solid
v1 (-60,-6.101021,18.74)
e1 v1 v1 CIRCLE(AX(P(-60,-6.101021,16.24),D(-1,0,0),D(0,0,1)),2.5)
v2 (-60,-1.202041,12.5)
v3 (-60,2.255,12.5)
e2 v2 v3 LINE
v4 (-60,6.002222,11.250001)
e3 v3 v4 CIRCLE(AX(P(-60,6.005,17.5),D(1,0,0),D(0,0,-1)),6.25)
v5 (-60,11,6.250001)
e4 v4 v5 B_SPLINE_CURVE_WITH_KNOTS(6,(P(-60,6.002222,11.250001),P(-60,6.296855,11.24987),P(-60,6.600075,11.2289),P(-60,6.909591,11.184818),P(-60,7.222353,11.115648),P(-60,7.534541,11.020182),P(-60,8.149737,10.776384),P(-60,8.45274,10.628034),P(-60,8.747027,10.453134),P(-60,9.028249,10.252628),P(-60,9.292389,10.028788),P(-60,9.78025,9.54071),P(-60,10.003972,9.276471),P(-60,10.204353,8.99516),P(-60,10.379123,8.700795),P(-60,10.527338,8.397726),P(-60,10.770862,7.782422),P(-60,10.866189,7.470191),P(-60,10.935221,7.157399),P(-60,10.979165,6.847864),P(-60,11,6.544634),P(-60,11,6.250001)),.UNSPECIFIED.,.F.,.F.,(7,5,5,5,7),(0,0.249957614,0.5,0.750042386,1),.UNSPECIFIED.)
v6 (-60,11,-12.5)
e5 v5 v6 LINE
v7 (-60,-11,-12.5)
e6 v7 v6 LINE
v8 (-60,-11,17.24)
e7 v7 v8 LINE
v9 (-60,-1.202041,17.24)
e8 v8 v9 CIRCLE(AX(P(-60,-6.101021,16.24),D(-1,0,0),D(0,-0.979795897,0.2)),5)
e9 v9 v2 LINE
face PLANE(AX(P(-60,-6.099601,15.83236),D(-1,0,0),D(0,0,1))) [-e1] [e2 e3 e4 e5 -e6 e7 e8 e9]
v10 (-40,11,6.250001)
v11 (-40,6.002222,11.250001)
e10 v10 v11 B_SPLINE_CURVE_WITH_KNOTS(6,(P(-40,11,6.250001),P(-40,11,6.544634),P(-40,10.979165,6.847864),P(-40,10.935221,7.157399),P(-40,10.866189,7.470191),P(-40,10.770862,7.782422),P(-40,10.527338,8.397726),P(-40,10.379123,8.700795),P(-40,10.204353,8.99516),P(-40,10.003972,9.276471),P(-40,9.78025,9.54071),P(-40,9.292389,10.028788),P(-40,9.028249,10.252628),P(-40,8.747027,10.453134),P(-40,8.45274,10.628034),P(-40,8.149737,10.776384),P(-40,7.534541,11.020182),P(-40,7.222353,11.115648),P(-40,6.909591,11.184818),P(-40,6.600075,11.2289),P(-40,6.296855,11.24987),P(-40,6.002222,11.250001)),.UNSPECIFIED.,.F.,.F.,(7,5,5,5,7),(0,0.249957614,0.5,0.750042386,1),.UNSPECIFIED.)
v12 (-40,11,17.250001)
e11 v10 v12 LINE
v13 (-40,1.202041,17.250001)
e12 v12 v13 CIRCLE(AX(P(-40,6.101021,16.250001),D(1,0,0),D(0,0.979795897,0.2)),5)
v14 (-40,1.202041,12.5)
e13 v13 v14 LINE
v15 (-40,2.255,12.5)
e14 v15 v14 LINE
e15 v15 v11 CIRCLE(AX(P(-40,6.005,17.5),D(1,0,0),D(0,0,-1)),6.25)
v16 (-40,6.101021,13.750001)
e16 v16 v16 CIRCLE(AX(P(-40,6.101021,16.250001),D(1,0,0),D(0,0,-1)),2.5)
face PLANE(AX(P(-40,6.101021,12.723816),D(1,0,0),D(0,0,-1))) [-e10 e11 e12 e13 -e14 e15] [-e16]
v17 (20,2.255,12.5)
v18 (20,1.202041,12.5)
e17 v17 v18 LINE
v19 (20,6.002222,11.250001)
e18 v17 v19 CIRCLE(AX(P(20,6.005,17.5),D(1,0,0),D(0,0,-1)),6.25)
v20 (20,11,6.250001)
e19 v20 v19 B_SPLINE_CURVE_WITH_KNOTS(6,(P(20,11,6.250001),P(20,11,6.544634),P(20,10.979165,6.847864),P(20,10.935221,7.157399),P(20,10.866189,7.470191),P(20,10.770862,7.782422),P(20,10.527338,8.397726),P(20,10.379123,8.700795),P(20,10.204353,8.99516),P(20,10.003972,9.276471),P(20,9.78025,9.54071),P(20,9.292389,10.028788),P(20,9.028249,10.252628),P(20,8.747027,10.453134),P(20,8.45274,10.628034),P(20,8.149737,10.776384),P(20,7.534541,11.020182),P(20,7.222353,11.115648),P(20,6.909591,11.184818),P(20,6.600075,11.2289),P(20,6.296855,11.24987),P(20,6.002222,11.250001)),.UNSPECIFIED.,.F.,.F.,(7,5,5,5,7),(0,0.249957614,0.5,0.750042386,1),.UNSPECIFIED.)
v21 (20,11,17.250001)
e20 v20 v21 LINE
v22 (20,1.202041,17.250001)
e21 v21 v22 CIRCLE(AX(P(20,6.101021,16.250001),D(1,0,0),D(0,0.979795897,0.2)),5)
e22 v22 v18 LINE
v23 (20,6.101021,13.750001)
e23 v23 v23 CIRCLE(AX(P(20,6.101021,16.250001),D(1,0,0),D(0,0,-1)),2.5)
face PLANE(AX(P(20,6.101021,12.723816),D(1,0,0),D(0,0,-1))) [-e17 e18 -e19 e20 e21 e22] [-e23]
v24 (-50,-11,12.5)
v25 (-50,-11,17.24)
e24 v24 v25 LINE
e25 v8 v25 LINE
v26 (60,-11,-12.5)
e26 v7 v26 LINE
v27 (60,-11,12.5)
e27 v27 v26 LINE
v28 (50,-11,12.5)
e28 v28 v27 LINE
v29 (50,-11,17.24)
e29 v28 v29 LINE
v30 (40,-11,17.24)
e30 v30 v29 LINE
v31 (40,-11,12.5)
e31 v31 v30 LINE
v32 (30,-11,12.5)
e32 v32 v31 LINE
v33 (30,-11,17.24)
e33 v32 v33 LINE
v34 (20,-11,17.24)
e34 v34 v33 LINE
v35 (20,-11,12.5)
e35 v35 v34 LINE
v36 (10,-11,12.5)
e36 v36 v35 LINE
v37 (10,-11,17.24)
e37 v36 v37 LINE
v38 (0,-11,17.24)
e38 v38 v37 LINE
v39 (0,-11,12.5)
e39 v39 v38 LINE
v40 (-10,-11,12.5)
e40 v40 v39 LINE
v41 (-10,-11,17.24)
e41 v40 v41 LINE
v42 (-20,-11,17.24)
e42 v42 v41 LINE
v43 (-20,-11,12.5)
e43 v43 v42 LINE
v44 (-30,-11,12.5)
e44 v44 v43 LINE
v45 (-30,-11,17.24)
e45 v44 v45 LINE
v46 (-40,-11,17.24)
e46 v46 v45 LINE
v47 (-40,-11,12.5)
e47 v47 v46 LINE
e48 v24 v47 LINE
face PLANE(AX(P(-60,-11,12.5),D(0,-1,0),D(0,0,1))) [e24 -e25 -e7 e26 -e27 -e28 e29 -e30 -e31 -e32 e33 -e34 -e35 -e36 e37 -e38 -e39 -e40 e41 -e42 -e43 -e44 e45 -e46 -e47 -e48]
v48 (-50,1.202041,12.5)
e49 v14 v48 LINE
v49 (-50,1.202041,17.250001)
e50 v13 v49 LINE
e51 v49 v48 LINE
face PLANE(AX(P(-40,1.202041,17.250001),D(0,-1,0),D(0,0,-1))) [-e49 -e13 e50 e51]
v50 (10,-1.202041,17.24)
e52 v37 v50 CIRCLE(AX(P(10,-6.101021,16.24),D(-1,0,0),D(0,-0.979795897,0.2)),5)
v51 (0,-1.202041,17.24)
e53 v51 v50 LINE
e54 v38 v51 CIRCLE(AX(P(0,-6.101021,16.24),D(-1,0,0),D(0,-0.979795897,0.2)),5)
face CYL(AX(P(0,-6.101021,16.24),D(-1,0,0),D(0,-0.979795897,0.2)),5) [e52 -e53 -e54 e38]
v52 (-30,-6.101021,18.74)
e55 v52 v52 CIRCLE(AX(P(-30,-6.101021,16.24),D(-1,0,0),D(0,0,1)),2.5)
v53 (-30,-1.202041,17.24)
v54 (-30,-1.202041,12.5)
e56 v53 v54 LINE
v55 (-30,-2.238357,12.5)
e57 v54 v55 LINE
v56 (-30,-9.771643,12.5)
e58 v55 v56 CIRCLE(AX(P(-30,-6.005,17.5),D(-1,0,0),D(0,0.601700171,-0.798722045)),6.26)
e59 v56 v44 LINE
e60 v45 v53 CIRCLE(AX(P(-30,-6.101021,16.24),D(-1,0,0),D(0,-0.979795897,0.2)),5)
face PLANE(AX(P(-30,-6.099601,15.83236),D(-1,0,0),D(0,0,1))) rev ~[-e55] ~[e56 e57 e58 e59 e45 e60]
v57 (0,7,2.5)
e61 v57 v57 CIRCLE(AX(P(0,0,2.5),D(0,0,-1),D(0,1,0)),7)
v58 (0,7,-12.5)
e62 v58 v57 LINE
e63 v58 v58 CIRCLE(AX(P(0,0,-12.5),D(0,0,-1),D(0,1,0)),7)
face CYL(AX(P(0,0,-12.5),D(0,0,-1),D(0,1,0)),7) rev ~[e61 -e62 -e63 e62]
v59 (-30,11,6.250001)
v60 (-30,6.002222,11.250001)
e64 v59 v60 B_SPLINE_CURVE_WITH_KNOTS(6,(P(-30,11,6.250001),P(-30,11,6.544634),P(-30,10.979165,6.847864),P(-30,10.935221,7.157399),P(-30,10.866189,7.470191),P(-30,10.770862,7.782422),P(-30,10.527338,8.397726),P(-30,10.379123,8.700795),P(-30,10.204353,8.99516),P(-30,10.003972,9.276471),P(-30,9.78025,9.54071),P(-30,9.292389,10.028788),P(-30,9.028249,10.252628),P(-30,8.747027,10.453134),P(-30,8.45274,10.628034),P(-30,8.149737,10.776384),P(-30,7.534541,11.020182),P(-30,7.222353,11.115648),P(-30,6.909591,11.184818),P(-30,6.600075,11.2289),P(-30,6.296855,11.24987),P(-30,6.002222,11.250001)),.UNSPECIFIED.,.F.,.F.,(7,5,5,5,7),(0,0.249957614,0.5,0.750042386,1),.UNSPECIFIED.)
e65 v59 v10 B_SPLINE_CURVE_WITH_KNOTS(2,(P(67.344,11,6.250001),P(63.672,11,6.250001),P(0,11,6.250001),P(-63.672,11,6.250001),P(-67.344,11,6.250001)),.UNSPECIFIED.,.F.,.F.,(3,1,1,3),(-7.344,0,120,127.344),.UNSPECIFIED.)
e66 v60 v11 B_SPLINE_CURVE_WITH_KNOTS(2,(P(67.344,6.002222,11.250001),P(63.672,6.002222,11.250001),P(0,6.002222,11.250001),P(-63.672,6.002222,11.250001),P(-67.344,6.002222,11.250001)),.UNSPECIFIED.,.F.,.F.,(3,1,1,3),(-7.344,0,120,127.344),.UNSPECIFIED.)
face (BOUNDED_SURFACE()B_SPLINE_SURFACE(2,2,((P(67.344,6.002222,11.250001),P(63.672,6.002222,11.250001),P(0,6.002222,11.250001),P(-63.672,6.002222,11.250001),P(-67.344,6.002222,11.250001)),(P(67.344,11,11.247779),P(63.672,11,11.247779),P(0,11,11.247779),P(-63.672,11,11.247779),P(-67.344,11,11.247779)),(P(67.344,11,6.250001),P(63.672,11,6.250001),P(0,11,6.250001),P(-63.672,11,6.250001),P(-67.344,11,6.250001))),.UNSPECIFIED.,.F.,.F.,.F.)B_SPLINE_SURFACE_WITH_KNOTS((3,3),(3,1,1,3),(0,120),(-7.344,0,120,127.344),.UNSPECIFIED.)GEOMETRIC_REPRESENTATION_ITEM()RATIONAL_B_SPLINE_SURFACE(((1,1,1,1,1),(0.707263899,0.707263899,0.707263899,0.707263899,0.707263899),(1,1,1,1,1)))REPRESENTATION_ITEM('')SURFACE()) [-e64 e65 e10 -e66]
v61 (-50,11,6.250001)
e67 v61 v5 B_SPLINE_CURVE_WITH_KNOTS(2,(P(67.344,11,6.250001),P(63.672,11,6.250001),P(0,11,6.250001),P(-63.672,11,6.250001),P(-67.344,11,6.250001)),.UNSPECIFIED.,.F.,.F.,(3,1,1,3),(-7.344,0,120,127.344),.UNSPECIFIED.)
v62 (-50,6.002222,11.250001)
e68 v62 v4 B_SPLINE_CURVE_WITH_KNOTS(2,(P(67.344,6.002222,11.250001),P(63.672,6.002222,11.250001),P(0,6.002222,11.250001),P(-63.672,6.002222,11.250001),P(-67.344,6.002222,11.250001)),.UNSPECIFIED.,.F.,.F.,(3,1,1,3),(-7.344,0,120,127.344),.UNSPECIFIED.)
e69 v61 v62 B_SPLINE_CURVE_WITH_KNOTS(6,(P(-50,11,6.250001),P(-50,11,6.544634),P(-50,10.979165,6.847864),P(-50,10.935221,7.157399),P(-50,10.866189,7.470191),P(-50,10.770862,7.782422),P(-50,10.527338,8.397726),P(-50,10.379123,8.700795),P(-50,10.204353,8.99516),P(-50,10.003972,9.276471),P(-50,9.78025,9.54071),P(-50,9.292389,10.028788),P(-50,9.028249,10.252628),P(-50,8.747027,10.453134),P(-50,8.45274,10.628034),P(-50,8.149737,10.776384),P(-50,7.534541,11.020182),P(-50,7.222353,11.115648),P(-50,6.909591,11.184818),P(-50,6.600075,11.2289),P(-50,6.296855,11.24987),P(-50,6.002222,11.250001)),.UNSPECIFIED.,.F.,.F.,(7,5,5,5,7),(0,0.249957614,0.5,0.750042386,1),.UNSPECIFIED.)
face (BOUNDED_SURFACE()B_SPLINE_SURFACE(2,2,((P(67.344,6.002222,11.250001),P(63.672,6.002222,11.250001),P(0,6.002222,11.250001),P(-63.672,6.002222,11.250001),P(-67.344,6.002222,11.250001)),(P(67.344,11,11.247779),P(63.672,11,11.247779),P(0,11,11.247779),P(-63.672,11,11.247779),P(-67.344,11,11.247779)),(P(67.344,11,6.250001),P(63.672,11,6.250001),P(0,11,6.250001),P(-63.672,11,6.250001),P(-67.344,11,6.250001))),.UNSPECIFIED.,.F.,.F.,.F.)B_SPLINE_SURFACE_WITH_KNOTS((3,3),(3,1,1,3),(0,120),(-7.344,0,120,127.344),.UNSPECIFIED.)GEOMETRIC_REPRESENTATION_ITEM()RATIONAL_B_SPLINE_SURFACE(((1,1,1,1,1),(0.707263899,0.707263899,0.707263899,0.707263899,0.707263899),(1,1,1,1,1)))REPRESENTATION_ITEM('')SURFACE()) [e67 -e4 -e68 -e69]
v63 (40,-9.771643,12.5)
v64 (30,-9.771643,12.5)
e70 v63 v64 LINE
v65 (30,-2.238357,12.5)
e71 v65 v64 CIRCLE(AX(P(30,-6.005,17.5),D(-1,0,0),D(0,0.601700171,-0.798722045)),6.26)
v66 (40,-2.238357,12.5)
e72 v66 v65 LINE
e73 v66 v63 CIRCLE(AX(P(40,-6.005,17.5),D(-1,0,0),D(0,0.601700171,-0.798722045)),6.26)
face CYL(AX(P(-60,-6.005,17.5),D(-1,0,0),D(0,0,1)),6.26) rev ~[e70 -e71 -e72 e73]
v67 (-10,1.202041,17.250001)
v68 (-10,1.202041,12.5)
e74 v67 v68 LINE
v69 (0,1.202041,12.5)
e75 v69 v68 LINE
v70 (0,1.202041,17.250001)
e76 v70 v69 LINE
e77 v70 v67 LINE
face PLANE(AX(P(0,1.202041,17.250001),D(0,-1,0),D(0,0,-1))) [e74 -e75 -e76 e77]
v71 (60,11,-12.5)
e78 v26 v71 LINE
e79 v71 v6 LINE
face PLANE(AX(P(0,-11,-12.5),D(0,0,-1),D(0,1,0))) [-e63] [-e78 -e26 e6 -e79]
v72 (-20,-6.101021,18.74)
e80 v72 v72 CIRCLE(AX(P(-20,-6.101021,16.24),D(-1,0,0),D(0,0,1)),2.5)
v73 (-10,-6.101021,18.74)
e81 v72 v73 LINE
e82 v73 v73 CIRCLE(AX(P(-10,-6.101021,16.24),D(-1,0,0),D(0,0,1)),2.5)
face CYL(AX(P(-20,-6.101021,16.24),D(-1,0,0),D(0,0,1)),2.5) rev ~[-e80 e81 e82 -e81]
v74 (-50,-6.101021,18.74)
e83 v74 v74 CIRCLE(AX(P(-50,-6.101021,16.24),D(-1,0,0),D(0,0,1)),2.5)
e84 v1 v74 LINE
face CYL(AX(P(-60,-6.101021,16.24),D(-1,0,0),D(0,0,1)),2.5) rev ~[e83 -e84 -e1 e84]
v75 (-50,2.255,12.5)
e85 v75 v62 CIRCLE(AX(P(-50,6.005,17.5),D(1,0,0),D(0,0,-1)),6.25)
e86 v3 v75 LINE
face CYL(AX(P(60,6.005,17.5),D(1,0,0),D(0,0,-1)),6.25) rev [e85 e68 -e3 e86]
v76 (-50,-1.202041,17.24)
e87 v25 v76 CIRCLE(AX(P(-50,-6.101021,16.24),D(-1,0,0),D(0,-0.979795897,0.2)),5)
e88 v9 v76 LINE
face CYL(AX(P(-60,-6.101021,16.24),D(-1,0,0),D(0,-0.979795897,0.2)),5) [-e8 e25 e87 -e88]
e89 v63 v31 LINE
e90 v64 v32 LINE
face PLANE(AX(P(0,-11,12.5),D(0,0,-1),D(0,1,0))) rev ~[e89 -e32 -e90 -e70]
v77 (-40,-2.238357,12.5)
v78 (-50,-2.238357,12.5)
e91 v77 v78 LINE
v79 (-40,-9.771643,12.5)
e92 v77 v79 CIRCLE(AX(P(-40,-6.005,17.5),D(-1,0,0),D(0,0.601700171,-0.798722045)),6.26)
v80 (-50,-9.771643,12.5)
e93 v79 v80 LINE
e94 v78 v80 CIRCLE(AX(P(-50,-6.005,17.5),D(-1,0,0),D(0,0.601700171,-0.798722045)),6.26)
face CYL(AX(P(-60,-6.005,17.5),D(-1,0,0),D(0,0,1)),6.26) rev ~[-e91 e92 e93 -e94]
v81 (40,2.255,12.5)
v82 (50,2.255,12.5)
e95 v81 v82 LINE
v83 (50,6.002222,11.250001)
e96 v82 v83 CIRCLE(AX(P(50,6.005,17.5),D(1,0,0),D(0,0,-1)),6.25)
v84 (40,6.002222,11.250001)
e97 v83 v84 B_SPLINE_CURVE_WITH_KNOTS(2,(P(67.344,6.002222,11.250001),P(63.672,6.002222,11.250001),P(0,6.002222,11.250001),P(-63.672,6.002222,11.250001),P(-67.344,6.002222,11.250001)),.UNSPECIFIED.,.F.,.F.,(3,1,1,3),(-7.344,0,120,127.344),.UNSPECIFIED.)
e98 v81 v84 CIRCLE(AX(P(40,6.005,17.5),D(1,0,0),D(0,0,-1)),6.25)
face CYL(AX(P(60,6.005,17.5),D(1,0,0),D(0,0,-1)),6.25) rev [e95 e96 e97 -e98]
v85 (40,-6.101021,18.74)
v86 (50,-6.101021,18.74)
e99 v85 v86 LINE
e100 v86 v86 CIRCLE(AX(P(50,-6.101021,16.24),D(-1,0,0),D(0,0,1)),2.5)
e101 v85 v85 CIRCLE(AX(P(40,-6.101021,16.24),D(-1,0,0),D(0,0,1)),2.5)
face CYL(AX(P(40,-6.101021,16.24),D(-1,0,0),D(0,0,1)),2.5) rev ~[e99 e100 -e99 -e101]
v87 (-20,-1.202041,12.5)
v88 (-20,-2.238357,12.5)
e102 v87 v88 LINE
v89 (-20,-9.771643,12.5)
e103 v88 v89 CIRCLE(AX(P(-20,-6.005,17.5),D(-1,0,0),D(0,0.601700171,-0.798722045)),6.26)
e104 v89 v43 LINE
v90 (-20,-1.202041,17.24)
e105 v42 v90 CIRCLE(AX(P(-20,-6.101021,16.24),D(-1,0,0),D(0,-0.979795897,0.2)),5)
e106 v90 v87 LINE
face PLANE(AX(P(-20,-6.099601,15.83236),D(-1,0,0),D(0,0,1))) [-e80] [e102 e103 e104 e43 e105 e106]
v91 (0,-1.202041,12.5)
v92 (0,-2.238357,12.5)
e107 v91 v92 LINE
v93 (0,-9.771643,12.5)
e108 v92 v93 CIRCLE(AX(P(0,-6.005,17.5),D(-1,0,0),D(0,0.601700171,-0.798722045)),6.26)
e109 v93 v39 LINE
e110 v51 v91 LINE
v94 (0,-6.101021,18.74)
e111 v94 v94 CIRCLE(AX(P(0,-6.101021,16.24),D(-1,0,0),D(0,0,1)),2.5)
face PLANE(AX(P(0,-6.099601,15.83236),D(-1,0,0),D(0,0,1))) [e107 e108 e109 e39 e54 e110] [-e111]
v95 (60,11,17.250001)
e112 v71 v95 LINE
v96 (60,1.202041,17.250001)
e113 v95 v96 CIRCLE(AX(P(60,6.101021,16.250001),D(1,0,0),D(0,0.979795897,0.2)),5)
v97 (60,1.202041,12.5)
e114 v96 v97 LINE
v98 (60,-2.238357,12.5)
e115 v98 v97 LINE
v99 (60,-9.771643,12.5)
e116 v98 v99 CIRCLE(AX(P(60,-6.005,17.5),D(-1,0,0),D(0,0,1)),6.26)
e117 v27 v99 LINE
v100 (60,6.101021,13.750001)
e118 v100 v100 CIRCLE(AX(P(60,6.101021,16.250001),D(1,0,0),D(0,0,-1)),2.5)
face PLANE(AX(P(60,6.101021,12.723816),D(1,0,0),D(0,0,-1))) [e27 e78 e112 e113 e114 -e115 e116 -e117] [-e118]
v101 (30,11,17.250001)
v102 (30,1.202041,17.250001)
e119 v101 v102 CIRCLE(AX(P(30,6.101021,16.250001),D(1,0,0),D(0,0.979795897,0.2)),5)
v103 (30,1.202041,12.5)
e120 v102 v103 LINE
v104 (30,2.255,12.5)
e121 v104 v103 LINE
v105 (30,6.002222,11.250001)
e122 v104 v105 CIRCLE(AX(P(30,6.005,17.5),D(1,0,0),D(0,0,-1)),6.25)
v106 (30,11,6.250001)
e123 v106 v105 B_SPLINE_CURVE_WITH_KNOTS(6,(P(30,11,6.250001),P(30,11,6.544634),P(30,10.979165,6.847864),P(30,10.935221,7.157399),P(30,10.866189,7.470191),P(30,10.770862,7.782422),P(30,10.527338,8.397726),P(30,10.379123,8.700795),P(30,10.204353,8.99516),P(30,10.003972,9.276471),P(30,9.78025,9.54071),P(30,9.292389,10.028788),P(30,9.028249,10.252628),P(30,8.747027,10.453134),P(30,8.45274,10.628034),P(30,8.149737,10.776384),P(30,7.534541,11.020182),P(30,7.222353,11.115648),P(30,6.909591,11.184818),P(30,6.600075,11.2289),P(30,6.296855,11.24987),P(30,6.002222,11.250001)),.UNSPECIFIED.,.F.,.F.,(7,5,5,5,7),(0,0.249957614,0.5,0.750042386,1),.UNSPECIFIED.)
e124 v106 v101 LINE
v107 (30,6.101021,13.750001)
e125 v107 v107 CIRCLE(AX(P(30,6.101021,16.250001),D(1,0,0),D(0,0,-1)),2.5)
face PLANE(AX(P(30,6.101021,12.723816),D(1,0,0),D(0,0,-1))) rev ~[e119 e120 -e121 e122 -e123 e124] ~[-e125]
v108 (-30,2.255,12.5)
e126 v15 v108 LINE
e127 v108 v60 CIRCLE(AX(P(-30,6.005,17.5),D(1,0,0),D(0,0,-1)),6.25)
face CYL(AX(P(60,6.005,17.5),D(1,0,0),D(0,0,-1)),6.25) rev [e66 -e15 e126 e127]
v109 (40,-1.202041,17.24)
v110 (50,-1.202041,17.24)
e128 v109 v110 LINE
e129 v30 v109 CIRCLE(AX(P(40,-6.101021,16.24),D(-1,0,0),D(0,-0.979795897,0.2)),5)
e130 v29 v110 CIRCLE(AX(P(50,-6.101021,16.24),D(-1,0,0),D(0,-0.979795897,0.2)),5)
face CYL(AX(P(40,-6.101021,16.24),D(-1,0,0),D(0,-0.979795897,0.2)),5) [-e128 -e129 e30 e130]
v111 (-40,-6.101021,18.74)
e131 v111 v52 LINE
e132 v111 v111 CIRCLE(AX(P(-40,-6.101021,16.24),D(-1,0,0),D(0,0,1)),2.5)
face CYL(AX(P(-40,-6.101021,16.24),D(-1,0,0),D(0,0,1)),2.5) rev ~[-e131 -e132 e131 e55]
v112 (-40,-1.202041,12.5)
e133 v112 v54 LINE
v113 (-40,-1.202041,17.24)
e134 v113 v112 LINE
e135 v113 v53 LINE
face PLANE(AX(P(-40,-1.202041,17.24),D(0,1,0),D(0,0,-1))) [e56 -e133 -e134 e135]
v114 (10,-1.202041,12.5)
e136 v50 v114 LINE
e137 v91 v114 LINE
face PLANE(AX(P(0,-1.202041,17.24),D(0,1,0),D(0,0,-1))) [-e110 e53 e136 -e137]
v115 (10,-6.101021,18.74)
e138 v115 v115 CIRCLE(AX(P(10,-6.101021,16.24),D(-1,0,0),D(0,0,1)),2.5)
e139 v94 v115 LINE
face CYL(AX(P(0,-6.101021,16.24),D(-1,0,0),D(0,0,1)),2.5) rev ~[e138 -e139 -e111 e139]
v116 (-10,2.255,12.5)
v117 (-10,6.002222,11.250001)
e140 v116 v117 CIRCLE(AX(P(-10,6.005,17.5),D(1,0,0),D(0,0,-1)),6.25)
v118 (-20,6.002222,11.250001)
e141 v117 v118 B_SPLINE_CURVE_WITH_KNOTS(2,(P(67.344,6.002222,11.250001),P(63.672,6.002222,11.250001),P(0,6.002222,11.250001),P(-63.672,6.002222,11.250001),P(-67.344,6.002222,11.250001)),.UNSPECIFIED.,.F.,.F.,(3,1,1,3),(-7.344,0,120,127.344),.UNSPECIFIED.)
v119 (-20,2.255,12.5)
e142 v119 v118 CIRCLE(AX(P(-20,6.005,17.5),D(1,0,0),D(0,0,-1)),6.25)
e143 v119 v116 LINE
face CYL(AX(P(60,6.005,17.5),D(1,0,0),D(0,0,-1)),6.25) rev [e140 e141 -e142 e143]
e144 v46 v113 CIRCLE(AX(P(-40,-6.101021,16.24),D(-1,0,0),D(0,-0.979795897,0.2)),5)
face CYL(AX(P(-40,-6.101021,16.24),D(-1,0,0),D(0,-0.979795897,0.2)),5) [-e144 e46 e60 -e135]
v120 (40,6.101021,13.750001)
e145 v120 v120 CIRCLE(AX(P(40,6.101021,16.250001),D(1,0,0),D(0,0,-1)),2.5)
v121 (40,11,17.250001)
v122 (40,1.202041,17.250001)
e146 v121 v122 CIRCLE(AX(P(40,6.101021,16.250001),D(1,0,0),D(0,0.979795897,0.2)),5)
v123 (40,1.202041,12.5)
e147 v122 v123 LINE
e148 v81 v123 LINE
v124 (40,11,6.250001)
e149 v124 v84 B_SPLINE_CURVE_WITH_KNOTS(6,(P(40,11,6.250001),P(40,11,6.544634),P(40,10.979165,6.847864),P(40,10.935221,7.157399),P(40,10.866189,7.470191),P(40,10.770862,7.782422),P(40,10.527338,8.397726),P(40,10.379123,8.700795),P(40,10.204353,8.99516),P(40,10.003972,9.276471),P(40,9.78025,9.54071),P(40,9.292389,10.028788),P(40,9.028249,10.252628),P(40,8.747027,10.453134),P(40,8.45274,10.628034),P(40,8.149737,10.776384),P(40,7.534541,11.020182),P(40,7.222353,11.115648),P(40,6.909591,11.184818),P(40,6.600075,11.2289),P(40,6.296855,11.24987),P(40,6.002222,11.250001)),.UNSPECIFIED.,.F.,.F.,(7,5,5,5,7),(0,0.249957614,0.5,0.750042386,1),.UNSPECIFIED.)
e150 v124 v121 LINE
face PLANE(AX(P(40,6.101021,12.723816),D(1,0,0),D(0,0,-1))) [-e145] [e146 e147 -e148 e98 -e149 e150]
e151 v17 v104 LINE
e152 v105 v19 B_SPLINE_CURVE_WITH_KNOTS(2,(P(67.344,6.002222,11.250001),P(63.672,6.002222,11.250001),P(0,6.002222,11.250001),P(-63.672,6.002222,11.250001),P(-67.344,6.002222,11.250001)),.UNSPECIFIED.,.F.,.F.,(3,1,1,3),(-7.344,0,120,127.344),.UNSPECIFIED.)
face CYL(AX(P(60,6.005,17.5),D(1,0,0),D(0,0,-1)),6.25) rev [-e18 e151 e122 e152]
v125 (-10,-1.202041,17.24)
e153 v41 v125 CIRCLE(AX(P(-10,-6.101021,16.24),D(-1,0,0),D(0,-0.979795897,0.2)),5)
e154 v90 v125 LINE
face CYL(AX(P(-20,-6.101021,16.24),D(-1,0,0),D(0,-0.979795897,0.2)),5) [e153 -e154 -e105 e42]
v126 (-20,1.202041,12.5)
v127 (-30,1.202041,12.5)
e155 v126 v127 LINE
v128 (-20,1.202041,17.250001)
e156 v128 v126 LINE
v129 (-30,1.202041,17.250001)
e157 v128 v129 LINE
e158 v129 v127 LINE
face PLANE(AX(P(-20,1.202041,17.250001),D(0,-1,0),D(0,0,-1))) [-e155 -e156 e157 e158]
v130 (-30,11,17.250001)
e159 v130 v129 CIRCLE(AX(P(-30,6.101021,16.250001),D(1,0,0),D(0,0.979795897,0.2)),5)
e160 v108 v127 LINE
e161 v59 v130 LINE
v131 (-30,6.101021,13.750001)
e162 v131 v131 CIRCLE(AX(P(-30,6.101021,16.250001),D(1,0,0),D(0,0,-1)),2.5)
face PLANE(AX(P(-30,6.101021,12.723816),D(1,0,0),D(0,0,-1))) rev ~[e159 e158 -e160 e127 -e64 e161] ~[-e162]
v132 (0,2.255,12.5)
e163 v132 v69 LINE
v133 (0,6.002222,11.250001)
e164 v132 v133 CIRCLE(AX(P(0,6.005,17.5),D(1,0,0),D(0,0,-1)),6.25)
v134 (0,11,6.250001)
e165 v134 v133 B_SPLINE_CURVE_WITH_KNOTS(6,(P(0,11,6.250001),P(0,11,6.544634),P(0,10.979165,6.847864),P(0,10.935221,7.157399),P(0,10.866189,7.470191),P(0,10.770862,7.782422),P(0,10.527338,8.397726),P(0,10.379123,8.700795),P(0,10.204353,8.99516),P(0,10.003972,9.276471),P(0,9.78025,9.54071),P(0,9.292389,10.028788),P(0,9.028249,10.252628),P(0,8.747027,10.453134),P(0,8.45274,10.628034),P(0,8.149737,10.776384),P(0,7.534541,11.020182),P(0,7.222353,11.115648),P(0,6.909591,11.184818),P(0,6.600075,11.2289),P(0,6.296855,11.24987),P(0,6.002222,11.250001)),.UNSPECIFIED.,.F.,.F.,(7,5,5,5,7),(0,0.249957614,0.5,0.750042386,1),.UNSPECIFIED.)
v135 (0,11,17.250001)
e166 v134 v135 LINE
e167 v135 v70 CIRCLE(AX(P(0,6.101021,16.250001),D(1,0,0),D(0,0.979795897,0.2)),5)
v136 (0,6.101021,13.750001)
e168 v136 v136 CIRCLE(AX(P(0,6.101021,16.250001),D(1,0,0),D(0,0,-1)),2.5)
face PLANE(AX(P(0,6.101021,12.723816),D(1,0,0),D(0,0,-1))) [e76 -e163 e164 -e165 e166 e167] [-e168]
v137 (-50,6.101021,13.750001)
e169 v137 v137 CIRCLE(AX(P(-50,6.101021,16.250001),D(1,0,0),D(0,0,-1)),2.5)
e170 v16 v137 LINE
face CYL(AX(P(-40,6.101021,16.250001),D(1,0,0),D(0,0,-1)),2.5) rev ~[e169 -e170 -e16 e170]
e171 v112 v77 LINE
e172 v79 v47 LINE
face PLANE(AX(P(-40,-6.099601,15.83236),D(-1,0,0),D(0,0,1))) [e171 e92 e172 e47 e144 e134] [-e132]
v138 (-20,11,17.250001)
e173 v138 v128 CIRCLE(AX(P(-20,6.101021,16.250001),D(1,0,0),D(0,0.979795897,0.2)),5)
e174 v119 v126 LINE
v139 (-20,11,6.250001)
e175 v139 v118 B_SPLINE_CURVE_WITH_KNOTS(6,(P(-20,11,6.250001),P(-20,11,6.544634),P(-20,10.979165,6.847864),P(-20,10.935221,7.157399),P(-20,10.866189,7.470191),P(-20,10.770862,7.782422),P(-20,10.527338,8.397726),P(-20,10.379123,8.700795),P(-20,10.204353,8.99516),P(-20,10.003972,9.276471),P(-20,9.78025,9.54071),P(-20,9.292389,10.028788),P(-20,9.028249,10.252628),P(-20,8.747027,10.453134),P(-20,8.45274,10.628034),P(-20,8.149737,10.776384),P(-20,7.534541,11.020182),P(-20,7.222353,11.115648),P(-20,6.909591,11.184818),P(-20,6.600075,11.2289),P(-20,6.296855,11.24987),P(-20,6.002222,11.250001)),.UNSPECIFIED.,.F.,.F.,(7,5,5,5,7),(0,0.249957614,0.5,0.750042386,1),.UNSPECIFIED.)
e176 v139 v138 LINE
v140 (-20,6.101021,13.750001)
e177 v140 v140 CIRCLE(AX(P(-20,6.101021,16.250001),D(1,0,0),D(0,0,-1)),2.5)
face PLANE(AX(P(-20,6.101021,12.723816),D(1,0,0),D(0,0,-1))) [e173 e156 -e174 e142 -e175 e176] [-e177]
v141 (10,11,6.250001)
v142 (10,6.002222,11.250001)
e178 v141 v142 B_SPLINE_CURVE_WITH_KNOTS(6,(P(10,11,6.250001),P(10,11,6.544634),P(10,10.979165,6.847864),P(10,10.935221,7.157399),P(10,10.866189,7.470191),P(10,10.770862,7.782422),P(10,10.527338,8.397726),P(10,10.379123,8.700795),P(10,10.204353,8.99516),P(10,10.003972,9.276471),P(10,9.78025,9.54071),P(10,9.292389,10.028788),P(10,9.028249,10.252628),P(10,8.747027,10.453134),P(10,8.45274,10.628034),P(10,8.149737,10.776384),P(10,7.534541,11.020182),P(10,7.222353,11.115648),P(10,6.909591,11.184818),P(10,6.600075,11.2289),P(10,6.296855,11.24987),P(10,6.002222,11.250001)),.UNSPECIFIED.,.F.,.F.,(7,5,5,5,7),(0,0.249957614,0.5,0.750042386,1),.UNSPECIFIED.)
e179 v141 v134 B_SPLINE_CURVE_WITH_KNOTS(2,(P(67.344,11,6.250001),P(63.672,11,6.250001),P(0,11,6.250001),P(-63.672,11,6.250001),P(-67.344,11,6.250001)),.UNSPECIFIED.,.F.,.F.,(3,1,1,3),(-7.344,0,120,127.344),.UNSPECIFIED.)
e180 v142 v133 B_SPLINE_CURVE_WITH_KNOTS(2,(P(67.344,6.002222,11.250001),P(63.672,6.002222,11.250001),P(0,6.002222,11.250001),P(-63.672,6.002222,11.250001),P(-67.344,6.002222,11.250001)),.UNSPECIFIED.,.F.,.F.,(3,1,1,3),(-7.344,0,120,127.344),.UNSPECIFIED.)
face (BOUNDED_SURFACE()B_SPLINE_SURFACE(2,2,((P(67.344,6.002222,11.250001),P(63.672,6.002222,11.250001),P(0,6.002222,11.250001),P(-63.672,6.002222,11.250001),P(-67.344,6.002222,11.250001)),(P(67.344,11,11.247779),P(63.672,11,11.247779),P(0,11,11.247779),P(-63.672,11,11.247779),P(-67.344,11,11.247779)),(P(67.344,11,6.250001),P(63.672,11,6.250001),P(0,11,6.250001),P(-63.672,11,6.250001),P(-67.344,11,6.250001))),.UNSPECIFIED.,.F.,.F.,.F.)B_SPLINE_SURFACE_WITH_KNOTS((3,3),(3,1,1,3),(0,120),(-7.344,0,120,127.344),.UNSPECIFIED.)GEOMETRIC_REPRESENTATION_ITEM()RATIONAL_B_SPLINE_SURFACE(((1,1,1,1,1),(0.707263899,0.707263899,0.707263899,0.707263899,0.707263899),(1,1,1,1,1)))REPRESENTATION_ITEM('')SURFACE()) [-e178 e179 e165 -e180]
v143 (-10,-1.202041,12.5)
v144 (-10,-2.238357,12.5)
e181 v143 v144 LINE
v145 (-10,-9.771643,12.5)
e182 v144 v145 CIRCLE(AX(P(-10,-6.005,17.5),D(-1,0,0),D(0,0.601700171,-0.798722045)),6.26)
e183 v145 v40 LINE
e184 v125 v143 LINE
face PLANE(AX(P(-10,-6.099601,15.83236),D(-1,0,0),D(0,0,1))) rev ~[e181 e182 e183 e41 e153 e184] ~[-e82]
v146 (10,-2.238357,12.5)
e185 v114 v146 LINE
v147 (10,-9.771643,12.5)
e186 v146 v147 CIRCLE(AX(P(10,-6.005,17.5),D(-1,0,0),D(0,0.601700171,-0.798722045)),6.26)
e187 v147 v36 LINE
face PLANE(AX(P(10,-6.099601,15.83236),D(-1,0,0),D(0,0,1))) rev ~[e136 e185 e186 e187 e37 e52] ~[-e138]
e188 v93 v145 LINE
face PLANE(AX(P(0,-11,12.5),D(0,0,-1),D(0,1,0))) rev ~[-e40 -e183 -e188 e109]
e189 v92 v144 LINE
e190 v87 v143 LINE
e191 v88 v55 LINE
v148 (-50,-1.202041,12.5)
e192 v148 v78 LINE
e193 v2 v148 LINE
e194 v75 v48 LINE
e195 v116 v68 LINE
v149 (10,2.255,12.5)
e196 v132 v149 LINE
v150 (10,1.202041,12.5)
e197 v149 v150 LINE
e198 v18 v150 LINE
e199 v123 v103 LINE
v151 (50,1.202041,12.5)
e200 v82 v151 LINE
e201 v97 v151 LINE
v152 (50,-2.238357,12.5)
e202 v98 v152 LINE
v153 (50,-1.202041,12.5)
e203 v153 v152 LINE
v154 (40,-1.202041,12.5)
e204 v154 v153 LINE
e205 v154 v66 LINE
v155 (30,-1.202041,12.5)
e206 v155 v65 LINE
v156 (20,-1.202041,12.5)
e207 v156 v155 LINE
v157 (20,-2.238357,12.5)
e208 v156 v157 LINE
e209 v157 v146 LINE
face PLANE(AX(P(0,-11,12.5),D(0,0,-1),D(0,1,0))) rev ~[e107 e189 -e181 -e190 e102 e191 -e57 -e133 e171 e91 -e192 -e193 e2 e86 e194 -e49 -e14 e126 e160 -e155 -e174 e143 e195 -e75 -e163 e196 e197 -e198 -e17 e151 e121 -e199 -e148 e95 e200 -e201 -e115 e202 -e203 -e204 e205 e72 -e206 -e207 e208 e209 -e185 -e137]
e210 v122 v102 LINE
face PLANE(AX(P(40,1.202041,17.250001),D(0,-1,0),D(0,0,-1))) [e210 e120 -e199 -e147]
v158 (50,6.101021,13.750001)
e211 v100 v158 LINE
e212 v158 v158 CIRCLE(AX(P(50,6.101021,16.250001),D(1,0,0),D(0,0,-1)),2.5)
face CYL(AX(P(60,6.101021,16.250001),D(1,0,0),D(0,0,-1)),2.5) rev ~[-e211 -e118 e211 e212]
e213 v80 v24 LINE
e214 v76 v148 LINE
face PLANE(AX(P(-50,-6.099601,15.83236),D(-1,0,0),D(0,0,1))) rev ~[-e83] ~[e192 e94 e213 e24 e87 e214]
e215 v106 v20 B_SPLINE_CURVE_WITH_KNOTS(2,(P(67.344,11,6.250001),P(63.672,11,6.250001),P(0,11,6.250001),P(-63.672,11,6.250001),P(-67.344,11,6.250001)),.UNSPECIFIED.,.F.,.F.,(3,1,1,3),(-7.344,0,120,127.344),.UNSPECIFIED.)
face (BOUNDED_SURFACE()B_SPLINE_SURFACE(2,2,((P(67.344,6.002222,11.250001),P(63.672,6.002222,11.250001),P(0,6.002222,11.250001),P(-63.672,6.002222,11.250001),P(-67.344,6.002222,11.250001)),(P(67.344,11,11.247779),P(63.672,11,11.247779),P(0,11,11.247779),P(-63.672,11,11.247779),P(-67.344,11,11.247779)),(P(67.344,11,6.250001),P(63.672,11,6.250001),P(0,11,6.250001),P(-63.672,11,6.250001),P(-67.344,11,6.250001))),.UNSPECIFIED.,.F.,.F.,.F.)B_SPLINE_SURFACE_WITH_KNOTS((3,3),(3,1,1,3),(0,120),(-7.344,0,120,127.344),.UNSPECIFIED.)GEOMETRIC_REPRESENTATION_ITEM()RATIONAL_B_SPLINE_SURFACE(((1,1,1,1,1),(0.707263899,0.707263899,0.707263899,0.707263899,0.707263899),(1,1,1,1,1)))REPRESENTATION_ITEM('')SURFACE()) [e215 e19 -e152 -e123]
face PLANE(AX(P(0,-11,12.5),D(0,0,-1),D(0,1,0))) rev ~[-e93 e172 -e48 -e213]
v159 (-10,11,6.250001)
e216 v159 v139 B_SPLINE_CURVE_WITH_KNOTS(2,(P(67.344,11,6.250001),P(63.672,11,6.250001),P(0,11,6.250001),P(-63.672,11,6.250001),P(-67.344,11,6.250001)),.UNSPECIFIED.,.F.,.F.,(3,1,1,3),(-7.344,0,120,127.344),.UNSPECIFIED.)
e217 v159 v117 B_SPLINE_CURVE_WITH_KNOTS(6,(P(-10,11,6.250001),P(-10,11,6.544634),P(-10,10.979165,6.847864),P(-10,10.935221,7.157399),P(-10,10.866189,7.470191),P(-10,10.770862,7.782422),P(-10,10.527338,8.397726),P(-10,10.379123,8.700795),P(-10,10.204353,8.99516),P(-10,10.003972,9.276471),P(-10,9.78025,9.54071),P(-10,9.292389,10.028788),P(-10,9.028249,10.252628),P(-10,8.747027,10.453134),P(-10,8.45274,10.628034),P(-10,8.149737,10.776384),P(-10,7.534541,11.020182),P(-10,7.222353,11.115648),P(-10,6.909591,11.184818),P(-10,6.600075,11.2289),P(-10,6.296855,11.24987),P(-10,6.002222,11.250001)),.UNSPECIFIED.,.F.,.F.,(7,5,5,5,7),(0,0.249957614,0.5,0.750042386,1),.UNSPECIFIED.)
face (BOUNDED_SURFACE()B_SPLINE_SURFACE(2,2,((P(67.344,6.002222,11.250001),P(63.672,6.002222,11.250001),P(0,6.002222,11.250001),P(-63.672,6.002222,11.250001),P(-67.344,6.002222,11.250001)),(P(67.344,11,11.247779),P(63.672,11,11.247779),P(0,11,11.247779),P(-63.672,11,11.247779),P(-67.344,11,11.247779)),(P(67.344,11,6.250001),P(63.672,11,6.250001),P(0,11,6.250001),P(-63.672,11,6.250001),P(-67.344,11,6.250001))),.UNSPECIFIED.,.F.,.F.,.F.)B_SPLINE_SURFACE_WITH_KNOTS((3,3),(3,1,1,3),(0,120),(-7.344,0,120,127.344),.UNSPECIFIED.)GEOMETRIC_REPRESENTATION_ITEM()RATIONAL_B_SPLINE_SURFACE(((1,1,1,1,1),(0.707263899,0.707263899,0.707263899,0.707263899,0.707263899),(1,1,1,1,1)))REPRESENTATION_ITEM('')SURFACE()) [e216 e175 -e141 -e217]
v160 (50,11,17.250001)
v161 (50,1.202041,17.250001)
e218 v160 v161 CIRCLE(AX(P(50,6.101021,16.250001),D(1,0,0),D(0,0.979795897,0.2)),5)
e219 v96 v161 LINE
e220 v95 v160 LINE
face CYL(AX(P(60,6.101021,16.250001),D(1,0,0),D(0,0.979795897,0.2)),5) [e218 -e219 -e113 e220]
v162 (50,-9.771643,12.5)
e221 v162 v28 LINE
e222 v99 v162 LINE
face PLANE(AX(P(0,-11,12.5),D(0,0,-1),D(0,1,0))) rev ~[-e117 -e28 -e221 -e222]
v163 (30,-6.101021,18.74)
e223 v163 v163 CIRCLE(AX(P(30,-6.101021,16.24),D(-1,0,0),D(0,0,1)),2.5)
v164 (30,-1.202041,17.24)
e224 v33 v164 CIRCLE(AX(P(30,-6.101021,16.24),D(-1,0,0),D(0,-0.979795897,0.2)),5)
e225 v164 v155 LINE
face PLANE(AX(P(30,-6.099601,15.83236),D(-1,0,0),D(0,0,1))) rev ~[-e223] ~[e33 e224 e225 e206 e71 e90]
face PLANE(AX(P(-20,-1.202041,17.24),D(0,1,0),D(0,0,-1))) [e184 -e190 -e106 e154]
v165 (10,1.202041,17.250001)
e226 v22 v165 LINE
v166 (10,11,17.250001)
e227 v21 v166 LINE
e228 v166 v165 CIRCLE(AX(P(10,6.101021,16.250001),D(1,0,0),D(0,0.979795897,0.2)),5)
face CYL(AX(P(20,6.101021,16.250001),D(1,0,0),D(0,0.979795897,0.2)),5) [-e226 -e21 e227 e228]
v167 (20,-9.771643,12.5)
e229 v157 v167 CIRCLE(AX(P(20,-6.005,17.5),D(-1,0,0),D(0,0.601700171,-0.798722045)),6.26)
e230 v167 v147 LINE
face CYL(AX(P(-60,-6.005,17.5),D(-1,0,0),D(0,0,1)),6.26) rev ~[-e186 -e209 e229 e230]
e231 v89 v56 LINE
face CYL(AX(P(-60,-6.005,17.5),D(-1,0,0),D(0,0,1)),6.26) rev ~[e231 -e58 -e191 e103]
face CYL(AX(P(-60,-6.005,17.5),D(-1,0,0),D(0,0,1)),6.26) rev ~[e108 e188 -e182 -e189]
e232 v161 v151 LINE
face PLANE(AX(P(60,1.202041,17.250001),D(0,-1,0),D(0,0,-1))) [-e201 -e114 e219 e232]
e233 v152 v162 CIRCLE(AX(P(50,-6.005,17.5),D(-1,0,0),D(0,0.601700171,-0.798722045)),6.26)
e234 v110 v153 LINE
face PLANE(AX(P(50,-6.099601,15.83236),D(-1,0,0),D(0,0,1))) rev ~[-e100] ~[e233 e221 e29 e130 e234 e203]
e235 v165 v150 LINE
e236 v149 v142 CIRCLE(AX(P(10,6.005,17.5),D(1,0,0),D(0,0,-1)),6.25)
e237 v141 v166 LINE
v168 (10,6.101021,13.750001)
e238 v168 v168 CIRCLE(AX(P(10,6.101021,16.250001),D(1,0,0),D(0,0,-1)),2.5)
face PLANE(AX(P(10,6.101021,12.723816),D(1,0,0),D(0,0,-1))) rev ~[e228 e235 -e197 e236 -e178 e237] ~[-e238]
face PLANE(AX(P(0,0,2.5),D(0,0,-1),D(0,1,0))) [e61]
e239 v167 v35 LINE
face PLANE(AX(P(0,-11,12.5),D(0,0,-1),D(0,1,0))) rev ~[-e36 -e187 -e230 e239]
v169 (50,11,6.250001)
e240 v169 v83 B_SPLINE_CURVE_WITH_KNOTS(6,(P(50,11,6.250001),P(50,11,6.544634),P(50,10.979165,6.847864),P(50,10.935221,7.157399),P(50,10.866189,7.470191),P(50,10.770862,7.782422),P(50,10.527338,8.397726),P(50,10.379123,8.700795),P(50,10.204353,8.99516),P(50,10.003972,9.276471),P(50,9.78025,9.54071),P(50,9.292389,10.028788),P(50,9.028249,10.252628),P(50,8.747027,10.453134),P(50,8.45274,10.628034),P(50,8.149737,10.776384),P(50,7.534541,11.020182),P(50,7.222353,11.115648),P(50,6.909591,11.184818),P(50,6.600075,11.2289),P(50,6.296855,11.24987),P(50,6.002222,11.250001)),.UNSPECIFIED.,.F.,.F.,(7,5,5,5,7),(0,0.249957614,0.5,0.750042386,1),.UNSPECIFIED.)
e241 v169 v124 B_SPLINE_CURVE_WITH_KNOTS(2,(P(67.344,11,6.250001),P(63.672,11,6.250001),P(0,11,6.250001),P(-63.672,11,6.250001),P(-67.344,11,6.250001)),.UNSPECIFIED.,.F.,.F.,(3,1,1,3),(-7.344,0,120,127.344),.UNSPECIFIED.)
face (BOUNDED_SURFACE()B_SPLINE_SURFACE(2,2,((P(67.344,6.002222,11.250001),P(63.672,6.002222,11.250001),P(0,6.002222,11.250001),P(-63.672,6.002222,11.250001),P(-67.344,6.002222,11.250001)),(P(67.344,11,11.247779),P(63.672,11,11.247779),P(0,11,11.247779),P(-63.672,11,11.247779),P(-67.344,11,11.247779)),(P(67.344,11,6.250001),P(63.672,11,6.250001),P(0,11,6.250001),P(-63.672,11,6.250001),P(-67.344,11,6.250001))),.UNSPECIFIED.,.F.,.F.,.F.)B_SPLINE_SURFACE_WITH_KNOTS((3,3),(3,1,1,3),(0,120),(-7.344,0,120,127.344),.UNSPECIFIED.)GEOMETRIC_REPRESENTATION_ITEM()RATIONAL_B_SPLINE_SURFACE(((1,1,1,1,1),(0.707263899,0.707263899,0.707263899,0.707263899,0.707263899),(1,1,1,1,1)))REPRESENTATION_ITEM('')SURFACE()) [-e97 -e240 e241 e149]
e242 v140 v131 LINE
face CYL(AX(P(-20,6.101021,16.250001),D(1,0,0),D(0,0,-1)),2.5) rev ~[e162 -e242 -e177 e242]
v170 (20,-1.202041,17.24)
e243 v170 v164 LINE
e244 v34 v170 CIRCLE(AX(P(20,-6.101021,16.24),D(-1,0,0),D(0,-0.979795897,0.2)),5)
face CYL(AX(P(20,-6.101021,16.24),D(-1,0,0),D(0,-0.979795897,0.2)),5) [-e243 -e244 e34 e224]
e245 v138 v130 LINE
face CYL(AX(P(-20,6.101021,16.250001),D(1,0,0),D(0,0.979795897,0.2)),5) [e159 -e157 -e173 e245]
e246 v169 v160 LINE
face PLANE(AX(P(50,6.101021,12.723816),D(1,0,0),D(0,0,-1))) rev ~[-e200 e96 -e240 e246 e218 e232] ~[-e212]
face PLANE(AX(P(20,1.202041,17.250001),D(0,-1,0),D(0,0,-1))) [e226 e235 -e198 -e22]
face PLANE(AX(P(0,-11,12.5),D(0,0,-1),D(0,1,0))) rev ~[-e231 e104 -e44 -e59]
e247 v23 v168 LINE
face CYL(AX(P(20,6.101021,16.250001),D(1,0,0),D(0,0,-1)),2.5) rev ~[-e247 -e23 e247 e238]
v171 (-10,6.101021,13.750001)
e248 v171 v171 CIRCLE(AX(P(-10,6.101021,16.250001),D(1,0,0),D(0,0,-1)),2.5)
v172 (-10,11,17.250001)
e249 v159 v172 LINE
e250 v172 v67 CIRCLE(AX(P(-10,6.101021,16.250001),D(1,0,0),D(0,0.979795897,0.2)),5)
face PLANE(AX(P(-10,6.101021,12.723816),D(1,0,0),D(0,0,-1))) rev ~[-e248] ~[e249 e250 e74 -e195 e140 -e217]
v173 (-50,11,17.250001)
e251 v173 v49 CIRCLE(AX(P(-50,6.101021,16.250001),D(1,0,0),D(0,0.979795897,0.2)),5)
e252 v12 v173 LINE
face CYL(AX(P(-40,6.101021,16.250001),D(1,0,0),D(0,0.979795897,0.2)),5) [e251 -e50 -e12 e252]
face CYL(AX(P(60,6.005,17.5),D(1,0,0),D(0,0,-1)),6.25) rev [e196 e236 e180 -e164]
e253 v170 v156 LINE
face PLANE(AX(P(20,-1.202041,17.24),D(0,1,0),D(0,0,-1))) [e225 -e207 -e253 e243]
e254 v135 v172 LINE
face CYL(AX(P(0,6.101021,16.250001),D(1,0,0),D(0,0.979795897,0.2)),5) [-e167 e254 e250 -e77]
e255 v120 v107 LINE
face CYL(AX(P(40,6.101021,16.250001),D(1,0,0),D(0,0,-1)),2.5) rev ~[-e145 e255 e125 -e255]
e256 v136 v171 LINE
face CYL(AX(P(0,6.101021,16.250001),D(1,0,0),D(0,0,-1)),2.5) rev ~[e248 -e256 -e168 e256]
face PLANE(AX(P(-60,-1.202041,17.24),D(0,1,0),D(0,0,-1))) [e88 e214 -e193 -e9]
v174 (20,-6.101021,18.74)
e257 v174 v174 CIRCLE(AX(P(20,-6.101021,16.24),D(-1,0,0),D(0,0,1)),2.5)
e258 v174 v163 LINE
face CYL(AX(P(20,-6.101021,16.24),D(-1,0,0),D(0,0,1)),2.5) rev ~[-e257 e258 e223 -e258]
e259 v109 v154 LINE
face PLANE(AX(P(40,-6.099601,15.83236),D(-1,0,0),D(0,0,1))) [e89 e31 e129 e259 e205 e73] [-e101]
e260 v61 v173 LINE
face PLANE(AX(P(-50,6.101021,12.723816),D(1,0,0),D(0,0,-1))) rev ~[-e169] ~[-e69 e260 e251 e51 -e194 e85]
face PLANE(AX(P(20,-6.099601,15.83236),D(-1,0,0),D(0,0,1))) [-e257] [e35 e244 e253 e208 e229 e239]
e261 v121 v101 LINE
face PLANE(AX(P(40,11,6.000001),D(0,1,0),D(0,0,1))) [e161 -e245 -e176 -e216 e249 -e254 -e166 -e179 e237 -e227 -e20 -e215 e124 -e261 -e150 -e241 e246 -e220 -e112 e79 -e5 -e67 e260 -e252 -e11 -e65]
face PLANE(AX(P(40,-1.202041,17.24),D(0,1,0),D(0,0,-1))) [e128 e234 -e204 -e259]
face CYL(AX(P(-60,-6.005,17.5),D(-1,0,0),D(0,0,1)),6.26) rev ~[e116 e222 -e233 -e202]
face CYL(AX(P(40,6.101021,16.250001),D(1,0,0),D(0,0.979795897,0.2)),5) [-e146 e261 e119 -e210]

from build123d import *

# Parameters (mm, degrees)
SKETCH1_W           = 25
SKETCH1_H           = 22
BOSS_EXTRUDE1_DEPTH = 60
CUT_EXTRUDE2_REACH  = 123.15
CUT_EXTRUDE3_REACH  = 123.15
SKETCH6_R           = 6.26
FILLET1_R           = 5
SKETCH2_R           = 2.5
BOSS_EXTRUDE2_DEPTH = 10
LPATTERN1_COUNT     = 6
LPATTERN1_PITCH     = 20
SKETCH3_R           = 2.5
BOSS_EXTRUDE3_DEPTH = 10
LPATTERN2_COUNT     = 6
LPATTERN2_PITCH     = 20
SKETCH4_R           = 7
CUT_EXTRUDE1_DEPTH  = 15


with BuildPart() as part:
    # Sketch1 → Boss-Extrude1 (new, symmetric)
    with BuildSketch(Plane(origin=(0, 0, 0), x_dir=(0, 0, -1), z_dir=(1, 0, 0))):
        Rectangle(SKETCH1_W, SKETCH1_H)
    extrude(amount=BOSS_EXTRUDE1_DEPTH, both=True)

    # Sketch5 → Cut-Extrude2 (cut, up to next)
    with BuildSketch(Plane(origin=(60, 0, 0), x_dir=(0, 0, -1), z_dir=(1, 0, 0)), mode=Mode.PRIVATE) as cut_extrude2_sk1:
        with BuildLine():
            Line((-13.743342576, 11), (-11.25, 11))
            Line((-11.25, 11), (-11.25, 6.005))
            ThreePointArc((-11.25, 6.005), (-23.092030441, 3.213639122), (-13.743342576, 11))
        make_face()
    cut_extrude2_tool1 = extrude(cut_extrude2_sk1.sketch, amount=-CUT_EXTRUDE2_REACH, mode=Mode.PRIVATE) & part.part
    add(cut_extrude2_tool1.solids().sort_by_distance((60, 6.117758, 17.335764))[0], mode=Mode.SUBTRACT)

    # Sketch6 → Cut-Extrude3 (cut, up to next)
    with BuildSketch(Plane.ZY.offset(60), mode=Mode.PRIVATE) as cut_extrude3_sk1:
        with Locations((17.5, -6.005)):
            Circle(SKETCH6_R)
    cut_extrude3_tool1 = extrude(cut_extrude3_sk1.sketch, amount=-CUT_EXTRUDE3_REACH, mode=Mode.PRIVATE) & part.part
    add(cut_extrude3_tool1.solids().sort_by_distance((-60, -6.005, 17.5))[0], mode=Mode.SUBTRACT)

    # Fillet1
    fillet1_edges = [part.edges().sort_by_distance(p)[0] for p in [
        (0, 11, 11.25),
    ]]
    fillet(fillet1_edges, radius=FILLET1_R)

    # Sketch2 → Boss-Extrude2 (add)
    with BuildSketch(Plane(origin=(60, 0, 0), x_dir=(0, 0, -1), z_dir=(1, 0, 0))):
        with BuildLine():
            Line((-17.250000617, 1.202041029), (-6.000000617, 1.202041029))
            Line((-6.000000617, 1.202041029), (-6.000000617, 11))
            Line((-6.000000617, 11), (-17.250000617, 11))
            ThreePointArc((-17.250000617, 11), (-21.250000617, 6.101020514), (-17.250000617, 1.202041029))
        make_face()
        with Locations((-16.250000617, 6.101020514)):
            Circle(SKETCH2_R, mode=Mode.SUBTRACT)
    boss_extrude2 = extrude(amount=-BOSS_EXTRUDE2_DEPTH)

    # LPattern1: Boss-Extrude2 ×6
    with Locations(*[(-i * LPATTERN1_PITCH, 0, 0) for i in range(1, LPATTERN1_COUNT)]):
        add(boss_extrude2)

    # Sketch3 → Boss-Extrude3 (add)
    with BuildSketch(Plane.ZY.offset(60)):
        with BuildLine():
            Line((17.24, -1.202041029), (12.5, -1.202041029))
            Line((12.5, -1.202041029), (12.5, -2.238356932))
            ThreePointArc((12.5, -2.238356932), (11.24, -6.005), (12.5, -9.771643068))
            Line((12.5, -9.771643068), (12.5, -11))
            Line((12.5, -11), (17.24, -11))
            ThreePointArc((17.24, -11), (21.24, -6.101020514), (17.24, -1.202041029))
        make_face()
        with Locations((16.24, -6.101020514)):
            Circle(SKETCH3_R, mode=Mode.SUBTRACT)
    boss_extrude3 = extrude(amount=-BOSS_EXTRUDE3_DEPTH)

    # LPattern2: Boss-Extrude3 ×6
    with Locations(*[(i * LPATTERN2_PITCH, 0, 0) for i in range(1, LPATTERN2_COUNT)]):
        add(boss_extrude3)

    # Sketch4 → Cut-Extrude1 (cut)
    with BuildSketch(Plane(origin=(0, 0, -12.5), x_dir=(-1, 0, 0), z_dir=(0, 0, -1))):
        with Locations(Location((0, 0, 0), (0, 0, 90))):
            Circle(SKETCH4_R)
    extrude(amount=-CUT_EXTRUDE1_DEPTH, mode=Mode.SUBTRACT)


solid = part.part
